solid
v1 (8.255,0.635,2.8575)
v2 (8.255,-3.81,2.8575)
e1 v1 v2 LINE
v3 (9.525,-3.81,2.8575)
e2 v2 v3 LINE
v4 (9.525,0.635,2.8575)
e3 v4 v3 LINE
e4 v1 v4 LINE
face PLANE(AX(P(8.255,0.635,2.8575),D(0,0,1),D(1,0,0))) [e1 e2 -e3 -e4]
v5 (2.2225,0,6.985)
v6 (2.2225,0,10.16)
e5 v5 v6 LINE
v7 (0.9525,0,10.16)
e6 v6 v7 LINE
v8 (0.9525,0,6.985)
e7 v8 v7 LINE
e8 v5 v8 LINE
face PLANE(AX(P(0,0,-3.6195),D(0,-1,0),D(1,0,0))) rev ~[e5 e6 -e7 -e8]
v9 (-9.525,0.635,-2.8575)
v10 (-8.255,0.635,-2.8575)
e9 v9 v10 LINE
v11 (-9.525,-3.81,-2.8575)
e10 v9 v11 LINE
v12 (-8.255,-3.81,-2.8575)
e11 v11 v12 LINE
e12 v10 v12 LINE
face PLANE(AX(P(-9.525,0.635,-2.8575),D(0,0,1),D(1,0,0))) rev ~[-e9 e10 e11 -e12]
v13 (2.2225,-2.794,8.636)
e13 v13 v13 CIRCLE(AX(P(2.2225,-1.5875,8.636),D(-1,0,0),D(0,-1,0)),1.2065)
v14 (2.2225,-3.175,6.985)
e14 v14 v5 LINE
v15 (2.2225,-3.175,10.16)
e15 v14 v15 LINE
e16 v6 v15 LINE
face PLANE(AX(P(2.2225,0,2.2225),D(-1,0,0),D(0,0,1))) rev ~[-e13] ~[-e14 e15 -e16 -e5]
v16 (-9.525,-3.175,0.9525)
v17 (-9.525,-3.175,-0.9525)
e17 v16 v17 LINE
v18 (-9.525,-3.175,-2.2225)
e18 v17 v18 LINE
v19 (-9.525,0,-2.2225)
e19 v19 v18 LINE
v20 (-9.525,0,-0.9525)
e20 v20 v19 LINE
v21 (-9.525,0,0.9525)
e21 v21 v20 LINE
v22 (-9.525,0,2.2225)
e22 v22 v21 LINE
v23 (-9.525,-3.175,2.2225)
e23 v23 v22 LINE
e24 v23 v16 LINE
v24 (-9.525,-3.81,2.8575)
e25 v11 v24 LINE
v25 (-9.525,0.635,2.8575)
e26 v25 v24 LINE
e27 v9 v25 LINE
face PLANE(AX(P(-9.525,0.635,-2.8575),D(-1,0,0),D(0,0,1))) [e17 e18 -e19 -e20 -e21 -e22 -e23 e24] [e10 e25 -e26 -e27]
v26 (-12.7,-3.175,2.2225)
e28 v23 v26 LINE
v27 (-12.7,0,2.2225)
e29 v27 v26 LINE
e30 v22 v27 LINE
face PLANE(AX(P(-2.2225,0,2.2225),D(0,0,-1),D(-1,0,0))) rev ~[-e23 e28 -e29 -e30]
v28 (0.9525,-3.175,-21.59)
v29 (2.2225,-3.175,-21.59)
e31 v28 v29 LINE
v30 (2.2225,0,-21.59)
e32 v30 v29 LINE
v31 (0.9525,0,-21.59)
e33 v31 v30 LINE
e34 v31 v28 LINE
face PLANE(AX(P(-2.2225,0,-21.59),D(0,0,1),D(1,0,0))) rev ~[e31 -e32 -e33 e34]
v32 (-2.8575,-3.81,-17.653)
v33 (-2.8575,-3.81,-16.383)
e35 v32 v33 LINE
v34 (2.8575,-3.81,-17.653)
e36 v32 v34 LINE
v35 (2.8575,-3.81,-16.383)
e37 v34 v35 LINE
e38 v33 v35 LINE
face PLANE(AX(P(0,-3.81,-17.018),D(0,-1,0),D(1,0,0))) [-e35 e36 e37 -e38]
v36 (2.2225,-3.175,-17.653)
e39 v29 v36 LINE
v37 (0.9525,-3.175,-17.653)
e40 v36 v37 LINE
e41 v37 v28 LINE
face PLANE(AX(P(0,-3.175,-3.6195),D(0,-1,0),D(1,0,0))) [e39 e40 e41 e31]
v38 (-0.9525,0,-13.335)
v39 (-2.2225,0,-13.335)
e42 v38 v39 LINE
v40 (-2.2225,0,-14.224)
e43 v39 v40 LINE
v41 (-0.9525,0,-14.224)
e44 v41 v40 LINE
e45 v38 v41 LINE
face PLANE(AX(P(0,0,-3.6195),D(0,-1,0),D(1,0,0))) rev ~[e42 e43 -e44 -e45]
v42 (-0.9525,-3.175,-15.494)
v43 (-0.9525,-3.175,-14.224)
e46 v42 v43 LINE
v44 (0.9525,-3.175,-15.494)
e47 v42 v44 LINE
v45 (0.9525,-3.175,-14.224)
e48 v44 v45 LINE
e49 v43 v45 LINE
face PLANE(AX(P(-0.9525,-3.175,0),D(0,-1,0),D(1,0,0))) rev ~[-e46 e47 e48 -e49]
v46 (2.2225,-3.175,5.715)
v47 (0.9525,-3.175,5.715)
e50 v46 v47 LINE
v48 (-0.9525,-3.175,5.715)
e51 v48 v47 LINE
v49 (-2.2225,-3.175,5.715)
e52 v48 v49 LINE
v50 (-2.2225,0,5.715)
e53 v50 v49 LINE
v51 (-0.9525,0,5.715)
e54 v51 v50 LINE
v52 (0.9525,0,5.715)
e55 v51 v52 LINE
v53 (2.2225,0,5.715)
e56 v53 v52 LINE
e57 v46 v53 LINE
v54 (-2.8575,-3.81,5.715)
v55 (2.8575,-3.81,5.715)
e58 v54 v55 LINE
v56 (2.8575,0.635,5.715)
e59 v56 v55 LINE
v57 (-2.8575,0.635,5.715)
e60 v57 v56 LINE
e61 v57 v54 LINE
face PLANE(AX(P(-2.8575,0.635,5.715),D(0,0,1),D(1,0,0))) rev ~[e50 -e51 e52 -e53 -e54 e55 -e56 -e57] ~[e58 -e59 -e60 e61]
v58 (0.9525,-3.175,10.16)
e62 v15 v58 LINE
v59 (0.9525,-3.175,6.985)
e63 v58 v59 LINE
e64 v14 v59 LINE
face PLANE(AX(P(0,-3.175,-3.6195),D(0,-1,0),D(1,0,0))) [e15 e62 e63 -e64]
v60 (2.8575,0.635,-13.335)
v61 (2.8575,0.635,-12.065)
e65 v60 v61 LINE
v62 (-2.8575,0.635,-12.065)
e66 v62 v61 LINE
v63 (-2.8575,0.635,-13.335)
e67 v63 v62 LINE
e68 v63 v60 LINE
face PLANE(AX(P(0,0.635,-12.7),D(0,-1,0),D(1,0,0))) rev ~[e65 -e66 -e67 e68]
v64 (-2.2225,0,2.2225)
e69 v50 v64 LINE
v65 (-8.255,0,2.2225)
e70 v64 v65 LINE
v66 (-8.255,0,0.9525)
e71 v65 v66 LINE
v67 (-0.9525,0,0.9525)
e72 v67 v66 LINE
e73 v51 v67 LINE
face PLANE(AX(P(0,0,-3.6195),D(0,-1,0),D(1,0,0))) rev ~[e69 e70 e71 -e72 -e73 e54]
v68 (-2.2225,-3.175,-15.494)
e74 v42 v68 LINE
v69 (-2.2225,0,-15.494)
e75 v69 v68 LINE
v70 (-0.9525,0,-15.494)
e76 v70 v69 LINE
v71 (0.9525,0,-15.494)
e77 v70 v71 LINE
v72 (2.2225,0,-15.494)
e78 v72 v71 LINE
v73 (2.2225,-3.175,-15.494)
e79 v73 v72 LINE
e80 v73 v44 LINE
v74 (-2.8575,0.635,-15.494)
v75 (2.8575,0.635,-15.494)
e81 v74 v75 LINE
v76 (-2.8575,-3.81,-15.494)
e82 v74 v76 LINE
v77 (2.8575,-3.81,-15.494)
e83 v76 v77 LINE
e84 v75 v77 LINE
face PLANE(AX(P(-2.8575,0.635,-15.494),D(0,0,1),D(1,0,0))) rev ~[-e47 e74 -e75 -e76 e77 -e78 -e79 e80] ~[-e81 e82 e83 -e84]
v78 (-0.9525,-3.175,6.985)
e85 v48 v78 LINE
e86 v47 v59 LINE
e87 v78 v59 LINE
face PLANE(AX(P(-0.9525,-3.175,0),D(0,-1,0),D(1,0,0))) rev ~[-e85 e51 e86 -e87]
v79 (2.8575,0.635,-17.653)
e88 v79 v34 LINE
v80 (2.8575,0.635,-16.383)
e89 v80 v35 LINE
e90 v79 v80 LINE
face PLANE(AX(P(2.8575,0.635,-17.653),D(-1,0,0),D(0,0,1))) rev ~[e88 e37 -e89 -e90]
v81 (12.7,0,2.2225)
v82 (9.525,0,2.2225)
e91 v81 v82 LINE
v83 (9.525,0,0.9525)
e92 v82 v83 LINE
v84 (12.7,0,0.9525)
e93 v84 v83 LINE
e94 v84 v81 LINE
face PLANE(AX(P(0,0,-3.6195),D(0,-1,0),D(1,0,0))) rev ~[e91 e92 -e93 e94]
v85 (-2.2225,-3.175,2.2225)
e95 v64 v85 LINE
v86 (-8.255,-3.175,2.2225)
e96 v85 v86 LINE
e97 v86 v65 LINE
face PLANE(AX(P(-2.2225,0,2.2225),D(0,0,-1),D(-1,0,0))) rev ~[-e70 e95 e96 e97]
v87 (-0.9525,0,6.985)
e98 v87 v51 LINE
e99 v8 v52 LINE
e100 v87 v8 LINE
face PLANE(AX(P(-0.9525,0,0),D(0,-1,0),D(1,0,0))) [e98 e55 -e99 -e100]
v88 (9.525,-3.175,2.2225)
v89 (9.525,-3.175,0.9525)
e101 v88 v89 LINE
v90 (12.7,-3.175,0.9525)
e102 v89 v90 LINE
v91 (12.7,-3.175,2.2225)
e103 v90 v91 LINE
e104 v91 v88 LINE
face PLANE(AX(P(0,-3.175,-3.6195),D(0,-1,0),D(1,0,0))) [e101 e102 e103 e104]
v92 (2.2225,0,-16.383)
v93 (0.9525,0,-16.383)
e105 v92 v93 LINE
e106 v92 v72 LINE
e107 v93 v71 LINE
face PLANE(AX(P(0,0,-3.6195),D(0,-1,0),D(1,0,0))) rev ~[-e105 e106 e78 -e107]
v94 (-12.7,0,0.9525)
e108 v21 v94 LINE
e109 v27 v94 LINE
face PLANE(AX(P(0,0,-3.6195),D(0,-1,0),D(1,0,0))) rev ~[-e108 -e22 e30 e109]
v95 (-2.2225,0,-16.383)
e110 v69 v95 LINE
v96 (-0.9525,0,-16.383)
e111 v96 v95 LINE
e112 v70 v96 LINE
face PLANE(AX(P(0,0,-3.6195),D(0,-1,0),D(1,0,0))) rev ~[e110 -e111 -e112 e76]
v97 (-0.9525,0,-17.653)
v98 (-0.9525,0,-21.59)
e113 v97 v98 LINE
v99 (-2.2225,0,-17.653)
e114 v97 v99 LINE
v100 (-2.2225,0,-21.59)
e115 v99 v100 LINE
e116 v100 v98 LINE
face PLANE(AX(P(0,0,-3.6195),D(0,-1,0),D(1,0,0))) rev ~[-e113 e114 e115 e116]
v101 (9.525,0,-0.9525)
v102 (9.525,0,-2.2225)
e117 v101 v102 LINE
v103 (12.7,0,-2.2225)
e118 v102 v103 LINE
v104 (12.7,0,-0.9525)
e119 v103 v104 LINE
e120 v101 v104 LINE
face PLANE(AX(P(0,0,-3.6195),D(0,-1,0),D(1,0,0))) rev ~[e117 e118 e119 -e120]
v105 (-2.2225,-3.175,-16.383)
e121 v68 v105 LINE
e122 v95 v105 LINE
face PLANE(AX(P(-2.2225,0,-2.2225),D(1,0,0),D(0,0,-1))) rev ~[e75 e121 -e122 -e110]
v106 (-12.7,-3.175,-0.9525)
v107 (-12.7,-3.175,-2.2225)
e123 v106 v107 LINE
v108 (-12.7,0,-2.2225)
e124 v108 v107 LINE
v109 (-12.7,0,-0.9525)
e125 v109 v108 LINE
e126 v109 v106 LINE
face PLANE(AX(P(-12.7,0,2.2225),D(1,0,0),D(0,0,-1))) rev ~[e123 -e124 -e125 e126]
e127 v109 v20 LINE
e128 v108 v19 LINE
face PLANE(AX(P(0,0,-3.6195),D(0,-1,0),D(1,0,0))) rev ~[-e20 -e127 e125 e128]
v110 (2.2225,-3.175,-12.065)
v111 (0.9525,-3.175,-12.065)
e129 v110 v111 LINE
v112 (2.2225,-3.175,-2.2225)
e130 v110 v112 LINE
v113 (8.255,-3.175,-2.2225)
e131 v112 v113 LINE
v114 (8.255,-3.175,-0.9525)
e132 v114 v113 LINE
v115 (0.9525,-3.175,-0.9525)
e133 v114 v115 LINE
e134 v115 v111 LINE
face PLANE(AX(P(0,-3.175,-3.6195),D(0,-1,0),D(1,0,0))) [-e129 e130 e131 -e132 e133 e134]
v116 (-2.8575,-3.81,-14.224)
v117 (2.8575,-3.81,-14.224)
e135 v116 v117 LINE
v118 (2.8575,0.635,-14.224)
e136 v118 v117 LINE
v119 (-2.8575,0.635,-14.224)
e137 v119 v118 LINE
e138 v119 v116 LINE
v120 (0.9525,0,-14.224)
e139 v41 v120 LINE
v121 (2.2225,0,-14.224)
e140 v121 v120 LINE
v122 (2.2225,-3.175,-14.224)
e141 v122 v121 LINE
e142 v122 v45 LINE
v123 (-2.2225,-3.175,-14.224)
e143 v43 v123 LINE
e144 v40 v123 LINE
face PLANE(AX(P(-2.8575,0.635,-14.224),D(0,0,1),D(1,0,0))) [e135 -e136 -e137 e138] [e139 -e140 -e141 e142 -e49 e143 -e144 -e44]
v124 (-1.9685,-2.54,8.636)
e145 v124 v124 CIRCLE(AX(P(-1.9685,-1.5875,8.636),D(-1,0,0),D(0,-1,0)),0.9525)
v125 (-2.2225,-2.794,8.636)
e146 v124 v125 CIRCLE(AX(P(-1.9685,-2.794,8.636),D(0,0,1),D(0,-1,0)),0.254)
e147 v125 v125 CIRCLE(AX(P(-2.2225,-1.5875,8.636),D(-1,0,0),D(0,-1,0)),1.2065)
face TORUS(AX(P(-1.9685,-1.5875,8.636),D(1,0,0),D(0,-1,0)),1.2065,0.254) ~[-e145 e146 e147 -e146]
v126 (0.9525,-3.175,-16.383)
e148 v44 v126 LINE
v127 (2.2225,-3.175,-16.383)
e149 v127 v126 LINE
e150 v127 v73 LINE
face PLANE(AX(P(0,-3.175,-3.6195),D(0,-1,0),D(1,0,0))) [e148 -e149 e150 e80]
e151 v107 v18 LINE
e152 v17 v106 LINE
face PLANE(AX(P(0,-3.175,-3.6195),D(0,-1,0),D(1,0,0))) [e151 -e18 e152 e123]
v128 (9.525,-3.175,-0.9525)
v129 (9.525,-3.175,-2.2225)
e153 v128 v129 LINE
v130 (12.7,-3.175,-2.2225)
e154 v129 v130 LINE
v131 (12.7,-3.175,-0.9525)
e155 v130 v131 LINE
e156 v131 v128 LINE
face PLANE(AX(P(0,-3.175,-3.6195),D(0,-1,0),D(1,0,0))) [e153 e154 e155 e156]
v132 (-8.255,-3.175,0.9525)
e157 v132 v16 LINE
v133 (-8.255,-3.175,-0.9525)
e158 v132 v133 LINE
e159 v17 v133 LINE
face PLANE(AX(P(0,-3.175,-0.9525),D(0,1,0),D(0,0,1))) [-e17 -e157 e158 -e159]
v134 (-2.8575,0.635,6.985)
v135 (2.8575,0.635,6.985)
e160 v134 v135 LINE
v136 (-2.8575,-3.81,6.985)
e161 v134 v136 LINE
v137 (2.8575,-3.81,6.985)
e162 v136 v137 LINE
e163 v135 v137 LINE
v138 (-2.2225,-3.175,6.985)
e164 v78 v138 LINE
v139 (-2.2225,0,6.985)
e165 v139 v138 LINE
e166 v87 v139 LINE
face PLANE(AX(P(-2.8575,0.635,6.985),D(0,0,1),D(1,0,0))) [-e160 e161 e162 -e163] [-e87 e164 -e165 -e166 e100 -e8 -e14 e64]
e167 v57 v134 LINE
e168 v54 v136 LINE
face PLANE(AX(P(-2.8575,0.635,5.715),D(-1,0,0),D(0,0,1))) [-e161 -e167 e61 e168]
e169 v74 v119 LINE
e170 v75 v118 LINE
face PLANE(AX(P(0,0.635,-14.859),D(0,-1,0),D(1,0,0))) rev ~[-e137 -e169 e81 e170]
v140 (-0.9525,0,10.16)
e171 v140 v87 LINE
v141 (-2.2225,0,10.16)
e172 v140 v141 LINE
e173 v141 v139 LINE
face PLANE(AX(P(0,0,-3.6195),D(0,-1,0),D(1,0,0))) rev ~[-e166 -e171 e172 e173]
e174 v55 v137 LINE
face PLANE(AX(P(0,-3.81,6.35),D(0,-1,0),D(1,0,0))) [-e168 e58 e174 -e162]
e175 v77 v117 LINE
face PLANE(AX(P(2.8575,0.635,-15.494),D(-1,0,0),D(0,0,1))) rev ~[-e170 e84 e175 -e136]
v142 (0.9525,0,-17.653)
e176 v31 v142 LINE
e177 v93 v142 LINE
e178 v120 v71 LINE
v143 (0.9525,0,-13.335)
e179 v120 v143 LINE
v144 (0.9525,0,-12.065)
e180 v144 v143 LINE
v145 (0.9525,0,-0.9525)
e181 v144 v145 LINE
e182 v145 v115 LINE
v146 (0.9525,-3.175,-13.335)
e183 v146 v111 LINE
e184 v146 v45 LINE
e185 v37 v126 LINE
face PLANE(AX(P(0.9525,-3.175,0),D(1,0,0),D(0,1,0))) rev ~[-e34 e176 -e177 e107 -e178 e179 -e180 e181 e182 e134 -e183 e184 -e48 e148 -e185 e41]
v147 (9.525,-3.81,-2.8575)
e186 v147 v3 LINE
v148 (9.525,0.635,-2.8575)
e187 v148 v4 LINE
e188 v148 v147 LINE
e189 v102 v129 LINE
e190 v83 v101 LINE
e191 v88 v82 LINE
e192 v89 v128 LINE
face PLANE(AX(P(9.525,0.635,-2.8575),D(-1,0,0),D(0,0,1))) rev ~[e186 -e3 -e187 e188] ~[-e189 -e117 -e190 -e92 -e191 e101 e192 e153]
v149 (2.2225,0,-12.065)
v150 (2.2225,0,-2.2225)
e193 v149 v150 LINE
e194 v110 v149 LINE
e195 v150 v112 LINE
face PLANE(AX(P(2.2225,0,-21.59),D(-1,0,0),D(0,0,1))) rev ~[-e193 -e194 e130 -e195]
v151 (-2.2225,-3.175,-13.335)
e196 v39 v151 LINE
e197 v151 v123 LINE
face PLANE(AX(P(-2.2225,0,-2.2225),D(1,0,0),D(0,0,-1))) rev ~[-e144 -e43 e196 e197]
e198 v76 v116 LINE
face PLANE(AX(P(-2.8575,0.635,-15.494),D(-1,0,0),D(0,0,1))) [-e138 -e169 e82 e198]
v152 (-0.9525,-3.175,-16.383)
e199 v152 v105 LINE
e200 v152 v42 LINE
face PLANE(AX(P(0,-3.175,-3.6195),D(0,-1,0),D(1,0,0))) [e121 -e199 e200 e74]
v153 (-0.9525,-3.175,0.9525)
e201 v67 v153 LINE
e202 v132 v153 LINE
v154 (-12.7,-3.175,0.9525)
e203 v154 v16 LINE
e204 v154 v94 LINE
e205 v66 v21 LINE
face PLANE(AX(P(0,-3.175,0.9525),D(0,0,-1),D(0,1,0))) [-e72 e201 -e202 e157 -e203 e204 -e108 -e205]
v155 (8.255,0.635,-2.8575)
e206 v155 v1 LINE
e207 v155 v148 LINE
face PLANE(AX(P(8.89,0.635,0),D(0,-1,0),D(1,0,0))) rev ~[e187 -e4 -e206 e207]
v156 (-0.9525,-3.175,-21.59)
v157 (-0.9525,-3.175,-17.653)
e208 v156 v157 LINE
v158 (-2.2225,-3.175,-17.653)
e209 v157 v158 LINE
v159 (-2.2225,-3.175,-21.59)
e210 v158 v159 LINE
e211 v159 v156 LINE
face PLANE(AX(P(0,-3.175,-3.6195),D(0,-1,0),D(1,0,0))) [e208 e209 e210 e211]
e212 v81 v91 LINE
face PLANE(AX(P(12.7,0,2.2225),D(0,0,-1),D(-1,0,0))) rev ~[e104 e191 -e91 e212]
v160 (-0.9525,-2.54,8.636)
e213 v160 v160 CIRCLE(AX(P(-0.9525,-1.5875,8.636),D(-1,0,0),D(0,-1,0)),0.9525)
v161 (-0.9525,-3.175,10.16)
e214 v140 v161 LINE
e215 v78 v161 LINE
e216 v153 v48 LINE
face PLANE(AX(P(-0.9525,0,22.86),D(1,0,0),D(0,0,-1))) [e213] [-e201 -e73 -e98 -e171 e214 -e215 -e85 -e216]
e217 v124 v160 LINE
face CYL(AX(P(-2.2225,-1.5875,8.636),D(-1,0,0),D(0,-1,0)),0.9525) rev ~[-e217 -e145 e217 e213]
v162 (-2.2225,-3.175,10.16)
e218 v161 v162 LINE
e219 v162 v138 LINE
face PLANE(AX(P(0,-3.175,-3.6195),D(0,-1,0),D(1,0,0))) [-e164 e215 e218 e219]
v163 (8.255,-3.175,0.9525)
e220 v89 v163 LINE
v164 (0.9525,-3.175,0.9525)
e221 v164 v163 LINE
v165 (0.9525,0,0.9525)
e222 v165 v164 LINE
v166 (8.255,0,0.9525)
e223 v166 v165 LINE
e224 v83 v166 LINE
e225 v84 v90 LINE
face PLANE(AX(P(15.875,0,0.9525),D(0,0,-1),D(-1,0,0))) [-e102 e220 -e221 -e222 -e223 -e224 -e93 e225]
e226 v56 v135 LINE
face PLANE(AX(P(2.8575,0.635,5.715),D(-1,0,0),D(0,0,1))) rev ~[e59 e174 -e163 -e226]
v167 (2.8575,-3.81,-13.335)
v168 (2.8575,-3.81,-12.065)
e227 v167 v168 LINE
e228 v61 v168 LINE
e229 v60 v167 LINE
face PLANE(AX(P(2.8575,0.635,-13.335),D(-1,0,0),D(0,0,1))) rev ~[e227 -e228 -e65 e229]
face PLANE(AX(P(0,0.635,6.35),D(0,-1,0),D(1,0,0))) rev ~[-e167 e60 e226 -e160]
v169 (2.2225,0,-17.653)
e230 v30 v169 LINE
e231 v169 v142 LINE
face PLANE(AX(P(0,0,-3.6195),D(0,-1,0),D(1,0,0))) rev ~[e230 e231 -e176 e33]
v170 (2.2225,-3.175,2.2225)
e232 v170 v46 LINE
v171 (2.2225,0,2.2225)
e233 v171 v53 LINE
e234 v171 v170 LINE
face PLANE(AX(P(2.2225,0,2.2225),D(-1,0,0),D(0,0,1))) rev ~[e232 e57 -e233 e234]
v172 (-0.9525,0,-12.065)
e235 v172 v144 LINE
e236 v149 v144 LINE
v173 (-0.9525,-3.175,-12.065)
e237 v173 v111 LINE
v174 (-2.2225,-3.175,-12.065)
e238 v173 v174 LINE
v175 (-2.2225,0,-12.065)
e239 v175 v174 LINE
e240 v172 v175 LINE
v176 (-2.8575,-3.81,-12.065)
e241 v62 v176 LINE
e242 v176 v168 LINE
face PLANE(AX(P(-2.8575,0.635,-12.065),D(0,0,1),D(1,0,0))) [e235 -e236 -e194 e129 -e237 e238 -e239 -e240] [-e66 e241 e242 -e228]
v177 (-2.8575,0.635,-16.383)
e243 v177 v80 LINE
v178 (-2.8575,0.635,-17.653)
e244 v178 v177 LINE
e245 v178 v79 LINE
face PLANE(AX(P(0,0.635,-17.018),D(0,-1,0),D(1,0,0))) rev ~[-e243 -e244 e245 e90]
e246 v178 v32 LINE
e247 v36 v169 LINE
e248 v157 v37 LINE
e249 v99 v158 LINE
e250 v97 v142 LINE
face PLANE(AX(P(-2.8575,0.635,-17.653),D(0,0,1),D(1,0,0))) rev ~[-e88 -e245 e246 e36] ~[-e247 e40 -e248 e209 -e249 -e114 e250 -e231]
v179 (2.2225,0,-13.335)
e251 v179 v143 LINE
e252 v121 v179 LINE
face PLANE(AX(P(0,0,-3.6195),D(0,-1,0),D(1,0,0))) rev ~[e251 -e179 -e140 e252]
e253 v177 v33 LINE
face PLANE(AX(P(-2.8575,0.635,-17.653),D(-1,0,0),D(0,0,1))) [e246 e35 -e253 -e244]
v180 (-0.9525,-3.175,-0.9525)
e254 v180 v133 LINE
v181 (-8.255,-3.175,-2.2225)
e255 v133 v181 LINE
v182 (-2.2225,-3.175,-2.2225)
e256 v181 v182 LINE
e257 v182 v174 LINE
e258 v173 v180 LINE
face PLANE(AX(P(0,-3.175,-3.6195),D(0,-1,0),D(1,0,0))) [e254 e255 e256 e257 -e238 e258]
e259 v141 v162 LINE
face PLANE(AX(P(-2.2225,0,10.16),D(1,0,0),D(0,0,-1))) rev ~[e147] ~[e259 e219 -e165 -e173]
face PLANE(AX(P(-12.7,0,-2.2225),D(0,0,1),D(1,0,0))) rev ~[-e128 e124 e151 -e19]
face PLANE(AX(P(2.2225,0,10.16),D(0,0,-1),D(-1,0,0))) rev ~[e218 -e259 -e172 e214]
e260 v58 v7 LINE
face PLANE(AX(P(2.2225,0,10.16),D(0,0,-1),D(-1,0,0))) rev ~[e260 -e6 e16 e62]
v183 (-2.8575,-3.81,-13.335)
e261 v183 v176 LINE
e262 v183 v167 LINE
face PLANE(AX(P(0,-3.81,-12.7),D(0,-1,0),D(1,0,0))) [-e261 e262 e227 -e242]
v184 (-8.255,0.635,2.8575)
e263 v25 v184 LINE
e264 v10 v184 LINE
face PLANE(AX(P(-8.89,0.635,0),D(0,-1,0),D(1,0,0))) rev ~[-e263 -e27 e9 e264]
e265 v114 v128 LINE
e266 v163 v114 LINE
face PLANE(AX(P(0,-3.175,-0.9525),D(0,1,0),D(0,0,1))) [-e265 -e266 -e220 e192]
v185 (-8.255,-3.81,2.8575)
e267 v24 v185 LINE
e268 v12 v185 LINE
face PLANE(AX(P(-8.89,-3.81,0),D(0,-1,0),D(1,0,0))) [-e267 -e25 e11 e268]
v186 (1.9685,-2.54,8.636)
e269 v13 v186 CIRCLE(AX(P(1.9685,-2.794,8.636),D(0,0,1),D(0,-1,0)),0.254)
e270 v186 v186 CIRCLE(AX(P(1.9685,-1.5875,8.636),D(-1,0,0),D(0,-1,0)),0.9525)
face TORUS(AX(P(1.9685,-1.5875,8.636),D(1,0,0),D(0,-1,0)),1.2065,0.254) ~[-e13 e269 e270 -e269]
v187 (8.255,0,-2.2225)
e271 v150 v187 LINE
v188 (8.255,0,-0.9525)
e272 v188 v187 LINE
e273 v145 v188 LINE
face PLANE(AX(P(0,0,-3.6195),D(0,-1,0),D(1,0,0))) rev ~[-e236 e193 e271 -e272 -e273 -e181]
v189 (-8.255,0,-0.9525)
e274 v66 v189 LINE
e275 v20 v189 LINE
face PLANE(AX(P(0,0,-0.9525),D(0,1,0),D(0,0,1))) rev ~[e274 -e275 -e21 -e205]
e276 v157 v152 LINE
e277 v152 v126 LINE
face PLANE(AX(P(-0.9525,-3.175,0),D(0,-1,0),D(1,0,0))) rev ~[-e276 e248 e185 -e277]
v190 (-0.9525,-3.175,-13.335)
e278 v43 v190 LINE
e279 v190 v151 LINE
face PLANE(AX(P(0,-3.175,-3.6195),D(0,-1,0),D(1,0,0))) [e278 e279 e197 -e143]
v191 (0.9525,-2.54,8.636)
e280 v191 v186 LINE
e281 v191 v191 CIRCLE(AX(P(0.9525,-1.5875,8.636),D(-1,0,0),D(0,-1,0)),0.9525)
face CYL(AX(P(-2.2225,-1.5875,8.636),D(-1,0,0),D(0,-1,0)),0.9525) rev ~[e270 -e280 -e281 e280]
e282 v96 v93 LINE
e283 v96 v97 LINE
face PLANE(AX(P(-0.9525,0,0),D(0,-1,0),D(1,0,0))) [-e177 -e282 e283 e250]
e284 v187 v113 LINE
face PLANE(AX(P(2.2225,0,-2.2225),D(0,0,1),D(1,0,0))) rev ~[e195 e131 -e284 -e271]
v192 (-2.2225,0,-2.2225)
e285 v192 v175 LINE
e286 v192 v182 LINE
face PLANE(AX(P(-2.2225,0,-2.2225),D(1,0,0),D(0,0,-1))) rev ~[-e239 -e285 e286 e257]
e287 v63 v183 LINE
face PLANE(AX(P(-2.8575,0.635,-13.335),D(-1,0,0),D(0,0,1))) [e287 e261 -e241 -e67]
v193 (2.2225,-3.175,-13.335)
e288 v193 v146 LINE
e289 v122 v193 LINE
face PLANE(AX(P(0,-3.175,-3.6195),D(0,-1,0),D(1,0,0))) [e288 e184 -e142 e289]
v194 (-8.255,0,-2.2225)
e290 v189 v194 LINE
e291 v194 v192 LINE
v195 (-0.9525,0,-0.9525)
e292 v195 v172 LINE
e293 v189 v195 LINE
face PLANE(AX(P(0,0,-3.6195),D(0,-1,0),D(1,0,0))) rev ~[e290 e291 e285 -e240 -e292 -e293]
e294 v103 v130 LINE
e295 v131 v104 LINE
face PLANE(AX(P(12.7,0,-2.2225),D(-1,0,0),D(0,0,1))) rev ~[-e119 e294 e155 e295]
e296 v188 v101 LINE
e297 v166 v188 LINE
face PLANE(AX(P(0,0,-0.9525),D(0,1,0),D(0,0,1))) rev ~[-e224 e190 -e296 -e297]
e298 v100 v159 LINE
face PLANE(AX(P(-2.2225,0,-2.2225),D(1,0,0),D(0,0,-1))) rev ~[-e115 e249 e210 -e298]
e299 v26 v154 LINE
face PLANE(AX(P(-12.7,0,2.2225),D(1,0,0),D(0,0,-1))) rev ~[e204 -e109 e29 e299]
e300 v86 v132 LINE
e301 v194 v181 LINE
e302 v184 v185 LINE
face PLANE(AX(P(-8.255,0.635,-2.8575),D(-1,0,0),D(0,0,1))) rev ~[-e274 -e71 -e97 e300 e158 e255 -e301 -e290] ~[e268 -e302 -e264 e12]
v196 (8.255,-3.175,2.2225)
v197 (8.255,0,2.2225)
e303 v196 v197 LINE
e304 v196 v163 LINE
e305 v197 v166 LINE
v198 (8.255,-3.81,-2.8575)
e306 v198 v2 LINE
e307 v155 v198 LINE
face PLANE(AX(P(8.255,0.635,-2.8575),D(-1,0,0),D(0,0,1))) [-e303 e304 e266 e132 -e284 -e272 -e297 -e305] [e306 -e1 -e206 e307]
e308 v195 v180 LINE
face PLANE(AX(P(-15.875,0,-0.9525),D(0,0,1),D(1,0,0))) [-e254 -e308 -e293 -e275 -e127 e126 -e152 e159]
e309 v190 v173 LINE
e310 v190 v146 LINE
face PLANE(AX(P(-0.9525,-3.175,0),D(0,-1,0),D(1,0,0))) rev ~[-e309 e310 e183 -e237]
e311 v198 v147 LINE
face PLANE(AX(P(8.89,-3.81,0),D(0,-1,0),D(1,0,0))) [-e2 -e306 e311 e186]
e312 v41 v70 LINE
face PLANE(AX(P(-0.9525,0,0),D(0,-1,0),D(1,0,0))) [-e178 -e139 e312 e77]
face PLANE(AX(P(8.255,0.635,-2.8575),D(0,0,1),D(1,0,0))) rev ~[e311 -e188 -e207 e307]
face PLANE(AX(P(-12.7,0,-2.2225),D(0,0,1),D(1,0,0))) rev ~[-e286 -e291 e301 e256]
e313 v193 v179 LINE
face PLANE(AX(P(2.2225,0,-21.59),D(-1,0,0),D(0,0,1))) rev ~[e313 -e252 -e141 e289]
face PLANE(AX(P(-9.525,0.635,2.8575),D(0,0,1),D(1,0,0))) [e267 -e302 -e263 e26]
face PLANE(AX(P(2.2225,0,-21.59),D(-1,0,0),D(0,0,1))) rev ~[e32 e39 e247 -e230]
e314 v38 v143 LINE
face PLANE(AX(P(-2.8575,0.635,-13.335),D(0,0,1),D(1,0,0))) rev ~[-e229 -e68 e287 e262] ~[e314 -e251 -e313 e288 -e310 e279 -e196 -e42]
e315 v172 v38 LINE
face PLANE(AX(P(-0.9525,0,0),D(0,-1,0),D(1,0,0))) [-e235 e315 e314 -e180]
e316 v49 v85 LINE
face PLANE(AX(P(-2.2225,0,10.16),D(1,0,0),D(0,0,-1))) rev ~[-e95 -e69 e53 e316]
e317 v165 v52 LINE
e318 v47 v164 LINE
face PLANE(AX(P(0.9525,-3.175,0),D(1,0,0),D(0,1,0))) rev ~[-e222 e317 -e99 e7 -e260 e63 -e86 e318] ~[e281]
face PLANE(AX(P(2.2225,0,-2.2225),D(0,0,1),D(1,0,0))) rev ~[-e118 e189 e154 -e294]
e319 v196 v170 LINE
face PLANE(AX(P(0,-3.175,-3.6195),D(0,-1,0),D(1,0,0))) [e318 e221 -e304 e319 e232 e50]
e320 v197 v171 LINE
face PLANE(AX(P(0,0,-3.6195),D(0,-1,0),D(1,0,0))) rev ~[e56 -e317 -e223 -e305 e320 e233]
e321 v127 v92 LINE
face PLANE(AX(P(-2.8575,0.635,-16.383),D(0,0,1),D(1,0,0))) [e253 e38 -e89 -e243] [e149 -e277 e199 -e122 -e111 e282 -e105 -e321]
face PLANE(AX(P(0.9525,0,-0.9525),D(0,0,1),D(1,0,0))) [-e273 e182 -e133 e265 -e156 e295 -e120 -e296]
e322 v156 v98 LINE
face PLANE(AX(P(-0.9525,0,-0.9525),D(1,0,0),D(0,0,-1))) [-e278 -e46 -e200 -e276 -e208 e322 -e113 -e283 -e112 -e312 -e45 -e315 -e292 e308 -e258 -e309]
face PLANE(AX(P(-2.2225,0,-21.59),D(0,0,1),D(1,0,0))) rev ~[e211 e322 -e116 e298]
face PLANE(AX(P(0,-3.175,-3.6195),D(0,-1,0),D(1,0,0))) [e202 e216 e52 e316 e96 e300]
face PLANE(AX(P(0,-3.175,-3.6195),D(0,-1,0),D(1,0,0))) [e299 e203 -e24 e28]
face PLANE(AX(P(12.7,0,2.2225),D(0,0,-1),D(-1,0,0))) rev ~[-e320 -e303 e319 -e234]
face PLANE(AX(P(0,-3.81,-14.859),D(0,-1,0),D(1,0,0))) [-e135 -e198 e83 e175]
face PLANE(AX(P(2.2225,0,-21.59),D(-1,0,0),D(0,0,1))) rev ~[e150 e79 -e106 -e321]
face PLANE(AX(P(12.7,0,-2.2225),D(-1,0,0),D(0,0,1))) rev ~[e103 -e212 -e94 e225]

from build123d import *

# Parameters (mm, degrees)
F1_DEPTH  = 3.175
F3_DEPTH  = 3.176
F5_W      = 1.27
F5_H      = 5.715
F5_W_2    = 5.715
F5_H_2    = 1.27
F6_DEPTH  = 4.445
F7_W      = 1.905
F7_H      = 3.175
F8_DEPTH  = 25.4
F9_W      = 3.175
F9_H      = 1.905
F10_DEPTH = 19.05
F11_R     = 0.9525
F12_DEPTH = 14.9235
F13_R     = 0.254


with BuildPart() as f1:
    # F0 (on Front) → F1 (new body)
    with BuildSketch(Plane.XZ):
        Polygon((2.2225, 10.16), (-2.2225, 10.16), (-2.2225, 2.2225), (-12.7, 2.2225), (-12.7, -2.2225), (-2.2225, -2.2225), (-2.2225, -21.59), (2.2225, -21.59), (2.2225, -2.2225), (12.7, -2.2225), (12.7, 2.2225), (2.2225, 2.2225), align=None)
    extrude(amount=F1_DEPTH)

    # F2 (on Front) → F3 (cut, through all)
    with BuildSketch(Plane.XZ):
        Polygon((-0.9525, -22.86), (0.9525, -22.86), (0.9525, -0.9525), (15.875, -0.9525), (15.875, 0.9525), (0.9525, 0.9525), (0.9525, 22.86), (-0.9525, 22.86), (-0.9525, 0.9525), (-15.875, 0.9525), (-15.875, -0.9525), (-0.9525, -0.9525), align=None)
    extrude(amount=F3_DEPTH, mode=Mode.SUBTRACT)

    # F5 (on offset) → F6 (join)
    with BuildSketch(Plane.XZ.offset(-0.635)):
        with Locations((-8.89, 0)):
            Rectangle(F5_W, F5_H)
        with Locations((8.89, 0)):
            Rectangle(F5_W, F5_H)
        with Locations((0, 6.35)):
            Rectangle(F5_W_2, F5_H_2)
        with Locations((0, -12.7)):
            Rectangle(F5_W_2, F5_H_2)
        with Locations((0, -14.859)):
            Rectangle(F5_W_2, F5_H_2)
        with Locations((0, -17.018)):
            Rectangle(F5_W_2, F5_H_2)
    extrude(amount=F6_DEPTH)

    # F7 (on Top) → F8 (cut, symmetric)
    with BuildSketch(Plane.XY):
        with Locations((0, -1.5875)):
            Rectangle(F7_W, F7_H)
    extrude(amount=F8_DEPTH, both=True, mode=Mode.SUBTRACT)

    # F9 (on Right) → F10 (cut, symmetric)
    with BuildSketch(Plane.YZ):
        with Locations((-1.5875, 0)):
            Rectangle(F9_W, F9_H)
    extrude(amount=F10_DEPTH, both=True, mode=Mode.SUBTRACT)

    # F11 (on face) → F12 (cut, through all)
    with BuildSketch(Plane(origin=(-2.2225, 0, 0), x_dir=(0, -1, 0), z_dir=(-1, 0, 0))):
        with Locations((1.5875, 8.636)):
            Circle(F11_R)
    extrude(amount=-F12_DEPTH, mode=Mode.SUBTRACT)

    # F13
    f13_edges = [f1.edges().sort_by_distance(p)[0] for p in [
        (-2.2225, -0.635, 8.636),
        (2.2225, -0.635, 8.636),
    ]]
    fillet(f13_edges, radius=F13_R)


solid = f1.part
